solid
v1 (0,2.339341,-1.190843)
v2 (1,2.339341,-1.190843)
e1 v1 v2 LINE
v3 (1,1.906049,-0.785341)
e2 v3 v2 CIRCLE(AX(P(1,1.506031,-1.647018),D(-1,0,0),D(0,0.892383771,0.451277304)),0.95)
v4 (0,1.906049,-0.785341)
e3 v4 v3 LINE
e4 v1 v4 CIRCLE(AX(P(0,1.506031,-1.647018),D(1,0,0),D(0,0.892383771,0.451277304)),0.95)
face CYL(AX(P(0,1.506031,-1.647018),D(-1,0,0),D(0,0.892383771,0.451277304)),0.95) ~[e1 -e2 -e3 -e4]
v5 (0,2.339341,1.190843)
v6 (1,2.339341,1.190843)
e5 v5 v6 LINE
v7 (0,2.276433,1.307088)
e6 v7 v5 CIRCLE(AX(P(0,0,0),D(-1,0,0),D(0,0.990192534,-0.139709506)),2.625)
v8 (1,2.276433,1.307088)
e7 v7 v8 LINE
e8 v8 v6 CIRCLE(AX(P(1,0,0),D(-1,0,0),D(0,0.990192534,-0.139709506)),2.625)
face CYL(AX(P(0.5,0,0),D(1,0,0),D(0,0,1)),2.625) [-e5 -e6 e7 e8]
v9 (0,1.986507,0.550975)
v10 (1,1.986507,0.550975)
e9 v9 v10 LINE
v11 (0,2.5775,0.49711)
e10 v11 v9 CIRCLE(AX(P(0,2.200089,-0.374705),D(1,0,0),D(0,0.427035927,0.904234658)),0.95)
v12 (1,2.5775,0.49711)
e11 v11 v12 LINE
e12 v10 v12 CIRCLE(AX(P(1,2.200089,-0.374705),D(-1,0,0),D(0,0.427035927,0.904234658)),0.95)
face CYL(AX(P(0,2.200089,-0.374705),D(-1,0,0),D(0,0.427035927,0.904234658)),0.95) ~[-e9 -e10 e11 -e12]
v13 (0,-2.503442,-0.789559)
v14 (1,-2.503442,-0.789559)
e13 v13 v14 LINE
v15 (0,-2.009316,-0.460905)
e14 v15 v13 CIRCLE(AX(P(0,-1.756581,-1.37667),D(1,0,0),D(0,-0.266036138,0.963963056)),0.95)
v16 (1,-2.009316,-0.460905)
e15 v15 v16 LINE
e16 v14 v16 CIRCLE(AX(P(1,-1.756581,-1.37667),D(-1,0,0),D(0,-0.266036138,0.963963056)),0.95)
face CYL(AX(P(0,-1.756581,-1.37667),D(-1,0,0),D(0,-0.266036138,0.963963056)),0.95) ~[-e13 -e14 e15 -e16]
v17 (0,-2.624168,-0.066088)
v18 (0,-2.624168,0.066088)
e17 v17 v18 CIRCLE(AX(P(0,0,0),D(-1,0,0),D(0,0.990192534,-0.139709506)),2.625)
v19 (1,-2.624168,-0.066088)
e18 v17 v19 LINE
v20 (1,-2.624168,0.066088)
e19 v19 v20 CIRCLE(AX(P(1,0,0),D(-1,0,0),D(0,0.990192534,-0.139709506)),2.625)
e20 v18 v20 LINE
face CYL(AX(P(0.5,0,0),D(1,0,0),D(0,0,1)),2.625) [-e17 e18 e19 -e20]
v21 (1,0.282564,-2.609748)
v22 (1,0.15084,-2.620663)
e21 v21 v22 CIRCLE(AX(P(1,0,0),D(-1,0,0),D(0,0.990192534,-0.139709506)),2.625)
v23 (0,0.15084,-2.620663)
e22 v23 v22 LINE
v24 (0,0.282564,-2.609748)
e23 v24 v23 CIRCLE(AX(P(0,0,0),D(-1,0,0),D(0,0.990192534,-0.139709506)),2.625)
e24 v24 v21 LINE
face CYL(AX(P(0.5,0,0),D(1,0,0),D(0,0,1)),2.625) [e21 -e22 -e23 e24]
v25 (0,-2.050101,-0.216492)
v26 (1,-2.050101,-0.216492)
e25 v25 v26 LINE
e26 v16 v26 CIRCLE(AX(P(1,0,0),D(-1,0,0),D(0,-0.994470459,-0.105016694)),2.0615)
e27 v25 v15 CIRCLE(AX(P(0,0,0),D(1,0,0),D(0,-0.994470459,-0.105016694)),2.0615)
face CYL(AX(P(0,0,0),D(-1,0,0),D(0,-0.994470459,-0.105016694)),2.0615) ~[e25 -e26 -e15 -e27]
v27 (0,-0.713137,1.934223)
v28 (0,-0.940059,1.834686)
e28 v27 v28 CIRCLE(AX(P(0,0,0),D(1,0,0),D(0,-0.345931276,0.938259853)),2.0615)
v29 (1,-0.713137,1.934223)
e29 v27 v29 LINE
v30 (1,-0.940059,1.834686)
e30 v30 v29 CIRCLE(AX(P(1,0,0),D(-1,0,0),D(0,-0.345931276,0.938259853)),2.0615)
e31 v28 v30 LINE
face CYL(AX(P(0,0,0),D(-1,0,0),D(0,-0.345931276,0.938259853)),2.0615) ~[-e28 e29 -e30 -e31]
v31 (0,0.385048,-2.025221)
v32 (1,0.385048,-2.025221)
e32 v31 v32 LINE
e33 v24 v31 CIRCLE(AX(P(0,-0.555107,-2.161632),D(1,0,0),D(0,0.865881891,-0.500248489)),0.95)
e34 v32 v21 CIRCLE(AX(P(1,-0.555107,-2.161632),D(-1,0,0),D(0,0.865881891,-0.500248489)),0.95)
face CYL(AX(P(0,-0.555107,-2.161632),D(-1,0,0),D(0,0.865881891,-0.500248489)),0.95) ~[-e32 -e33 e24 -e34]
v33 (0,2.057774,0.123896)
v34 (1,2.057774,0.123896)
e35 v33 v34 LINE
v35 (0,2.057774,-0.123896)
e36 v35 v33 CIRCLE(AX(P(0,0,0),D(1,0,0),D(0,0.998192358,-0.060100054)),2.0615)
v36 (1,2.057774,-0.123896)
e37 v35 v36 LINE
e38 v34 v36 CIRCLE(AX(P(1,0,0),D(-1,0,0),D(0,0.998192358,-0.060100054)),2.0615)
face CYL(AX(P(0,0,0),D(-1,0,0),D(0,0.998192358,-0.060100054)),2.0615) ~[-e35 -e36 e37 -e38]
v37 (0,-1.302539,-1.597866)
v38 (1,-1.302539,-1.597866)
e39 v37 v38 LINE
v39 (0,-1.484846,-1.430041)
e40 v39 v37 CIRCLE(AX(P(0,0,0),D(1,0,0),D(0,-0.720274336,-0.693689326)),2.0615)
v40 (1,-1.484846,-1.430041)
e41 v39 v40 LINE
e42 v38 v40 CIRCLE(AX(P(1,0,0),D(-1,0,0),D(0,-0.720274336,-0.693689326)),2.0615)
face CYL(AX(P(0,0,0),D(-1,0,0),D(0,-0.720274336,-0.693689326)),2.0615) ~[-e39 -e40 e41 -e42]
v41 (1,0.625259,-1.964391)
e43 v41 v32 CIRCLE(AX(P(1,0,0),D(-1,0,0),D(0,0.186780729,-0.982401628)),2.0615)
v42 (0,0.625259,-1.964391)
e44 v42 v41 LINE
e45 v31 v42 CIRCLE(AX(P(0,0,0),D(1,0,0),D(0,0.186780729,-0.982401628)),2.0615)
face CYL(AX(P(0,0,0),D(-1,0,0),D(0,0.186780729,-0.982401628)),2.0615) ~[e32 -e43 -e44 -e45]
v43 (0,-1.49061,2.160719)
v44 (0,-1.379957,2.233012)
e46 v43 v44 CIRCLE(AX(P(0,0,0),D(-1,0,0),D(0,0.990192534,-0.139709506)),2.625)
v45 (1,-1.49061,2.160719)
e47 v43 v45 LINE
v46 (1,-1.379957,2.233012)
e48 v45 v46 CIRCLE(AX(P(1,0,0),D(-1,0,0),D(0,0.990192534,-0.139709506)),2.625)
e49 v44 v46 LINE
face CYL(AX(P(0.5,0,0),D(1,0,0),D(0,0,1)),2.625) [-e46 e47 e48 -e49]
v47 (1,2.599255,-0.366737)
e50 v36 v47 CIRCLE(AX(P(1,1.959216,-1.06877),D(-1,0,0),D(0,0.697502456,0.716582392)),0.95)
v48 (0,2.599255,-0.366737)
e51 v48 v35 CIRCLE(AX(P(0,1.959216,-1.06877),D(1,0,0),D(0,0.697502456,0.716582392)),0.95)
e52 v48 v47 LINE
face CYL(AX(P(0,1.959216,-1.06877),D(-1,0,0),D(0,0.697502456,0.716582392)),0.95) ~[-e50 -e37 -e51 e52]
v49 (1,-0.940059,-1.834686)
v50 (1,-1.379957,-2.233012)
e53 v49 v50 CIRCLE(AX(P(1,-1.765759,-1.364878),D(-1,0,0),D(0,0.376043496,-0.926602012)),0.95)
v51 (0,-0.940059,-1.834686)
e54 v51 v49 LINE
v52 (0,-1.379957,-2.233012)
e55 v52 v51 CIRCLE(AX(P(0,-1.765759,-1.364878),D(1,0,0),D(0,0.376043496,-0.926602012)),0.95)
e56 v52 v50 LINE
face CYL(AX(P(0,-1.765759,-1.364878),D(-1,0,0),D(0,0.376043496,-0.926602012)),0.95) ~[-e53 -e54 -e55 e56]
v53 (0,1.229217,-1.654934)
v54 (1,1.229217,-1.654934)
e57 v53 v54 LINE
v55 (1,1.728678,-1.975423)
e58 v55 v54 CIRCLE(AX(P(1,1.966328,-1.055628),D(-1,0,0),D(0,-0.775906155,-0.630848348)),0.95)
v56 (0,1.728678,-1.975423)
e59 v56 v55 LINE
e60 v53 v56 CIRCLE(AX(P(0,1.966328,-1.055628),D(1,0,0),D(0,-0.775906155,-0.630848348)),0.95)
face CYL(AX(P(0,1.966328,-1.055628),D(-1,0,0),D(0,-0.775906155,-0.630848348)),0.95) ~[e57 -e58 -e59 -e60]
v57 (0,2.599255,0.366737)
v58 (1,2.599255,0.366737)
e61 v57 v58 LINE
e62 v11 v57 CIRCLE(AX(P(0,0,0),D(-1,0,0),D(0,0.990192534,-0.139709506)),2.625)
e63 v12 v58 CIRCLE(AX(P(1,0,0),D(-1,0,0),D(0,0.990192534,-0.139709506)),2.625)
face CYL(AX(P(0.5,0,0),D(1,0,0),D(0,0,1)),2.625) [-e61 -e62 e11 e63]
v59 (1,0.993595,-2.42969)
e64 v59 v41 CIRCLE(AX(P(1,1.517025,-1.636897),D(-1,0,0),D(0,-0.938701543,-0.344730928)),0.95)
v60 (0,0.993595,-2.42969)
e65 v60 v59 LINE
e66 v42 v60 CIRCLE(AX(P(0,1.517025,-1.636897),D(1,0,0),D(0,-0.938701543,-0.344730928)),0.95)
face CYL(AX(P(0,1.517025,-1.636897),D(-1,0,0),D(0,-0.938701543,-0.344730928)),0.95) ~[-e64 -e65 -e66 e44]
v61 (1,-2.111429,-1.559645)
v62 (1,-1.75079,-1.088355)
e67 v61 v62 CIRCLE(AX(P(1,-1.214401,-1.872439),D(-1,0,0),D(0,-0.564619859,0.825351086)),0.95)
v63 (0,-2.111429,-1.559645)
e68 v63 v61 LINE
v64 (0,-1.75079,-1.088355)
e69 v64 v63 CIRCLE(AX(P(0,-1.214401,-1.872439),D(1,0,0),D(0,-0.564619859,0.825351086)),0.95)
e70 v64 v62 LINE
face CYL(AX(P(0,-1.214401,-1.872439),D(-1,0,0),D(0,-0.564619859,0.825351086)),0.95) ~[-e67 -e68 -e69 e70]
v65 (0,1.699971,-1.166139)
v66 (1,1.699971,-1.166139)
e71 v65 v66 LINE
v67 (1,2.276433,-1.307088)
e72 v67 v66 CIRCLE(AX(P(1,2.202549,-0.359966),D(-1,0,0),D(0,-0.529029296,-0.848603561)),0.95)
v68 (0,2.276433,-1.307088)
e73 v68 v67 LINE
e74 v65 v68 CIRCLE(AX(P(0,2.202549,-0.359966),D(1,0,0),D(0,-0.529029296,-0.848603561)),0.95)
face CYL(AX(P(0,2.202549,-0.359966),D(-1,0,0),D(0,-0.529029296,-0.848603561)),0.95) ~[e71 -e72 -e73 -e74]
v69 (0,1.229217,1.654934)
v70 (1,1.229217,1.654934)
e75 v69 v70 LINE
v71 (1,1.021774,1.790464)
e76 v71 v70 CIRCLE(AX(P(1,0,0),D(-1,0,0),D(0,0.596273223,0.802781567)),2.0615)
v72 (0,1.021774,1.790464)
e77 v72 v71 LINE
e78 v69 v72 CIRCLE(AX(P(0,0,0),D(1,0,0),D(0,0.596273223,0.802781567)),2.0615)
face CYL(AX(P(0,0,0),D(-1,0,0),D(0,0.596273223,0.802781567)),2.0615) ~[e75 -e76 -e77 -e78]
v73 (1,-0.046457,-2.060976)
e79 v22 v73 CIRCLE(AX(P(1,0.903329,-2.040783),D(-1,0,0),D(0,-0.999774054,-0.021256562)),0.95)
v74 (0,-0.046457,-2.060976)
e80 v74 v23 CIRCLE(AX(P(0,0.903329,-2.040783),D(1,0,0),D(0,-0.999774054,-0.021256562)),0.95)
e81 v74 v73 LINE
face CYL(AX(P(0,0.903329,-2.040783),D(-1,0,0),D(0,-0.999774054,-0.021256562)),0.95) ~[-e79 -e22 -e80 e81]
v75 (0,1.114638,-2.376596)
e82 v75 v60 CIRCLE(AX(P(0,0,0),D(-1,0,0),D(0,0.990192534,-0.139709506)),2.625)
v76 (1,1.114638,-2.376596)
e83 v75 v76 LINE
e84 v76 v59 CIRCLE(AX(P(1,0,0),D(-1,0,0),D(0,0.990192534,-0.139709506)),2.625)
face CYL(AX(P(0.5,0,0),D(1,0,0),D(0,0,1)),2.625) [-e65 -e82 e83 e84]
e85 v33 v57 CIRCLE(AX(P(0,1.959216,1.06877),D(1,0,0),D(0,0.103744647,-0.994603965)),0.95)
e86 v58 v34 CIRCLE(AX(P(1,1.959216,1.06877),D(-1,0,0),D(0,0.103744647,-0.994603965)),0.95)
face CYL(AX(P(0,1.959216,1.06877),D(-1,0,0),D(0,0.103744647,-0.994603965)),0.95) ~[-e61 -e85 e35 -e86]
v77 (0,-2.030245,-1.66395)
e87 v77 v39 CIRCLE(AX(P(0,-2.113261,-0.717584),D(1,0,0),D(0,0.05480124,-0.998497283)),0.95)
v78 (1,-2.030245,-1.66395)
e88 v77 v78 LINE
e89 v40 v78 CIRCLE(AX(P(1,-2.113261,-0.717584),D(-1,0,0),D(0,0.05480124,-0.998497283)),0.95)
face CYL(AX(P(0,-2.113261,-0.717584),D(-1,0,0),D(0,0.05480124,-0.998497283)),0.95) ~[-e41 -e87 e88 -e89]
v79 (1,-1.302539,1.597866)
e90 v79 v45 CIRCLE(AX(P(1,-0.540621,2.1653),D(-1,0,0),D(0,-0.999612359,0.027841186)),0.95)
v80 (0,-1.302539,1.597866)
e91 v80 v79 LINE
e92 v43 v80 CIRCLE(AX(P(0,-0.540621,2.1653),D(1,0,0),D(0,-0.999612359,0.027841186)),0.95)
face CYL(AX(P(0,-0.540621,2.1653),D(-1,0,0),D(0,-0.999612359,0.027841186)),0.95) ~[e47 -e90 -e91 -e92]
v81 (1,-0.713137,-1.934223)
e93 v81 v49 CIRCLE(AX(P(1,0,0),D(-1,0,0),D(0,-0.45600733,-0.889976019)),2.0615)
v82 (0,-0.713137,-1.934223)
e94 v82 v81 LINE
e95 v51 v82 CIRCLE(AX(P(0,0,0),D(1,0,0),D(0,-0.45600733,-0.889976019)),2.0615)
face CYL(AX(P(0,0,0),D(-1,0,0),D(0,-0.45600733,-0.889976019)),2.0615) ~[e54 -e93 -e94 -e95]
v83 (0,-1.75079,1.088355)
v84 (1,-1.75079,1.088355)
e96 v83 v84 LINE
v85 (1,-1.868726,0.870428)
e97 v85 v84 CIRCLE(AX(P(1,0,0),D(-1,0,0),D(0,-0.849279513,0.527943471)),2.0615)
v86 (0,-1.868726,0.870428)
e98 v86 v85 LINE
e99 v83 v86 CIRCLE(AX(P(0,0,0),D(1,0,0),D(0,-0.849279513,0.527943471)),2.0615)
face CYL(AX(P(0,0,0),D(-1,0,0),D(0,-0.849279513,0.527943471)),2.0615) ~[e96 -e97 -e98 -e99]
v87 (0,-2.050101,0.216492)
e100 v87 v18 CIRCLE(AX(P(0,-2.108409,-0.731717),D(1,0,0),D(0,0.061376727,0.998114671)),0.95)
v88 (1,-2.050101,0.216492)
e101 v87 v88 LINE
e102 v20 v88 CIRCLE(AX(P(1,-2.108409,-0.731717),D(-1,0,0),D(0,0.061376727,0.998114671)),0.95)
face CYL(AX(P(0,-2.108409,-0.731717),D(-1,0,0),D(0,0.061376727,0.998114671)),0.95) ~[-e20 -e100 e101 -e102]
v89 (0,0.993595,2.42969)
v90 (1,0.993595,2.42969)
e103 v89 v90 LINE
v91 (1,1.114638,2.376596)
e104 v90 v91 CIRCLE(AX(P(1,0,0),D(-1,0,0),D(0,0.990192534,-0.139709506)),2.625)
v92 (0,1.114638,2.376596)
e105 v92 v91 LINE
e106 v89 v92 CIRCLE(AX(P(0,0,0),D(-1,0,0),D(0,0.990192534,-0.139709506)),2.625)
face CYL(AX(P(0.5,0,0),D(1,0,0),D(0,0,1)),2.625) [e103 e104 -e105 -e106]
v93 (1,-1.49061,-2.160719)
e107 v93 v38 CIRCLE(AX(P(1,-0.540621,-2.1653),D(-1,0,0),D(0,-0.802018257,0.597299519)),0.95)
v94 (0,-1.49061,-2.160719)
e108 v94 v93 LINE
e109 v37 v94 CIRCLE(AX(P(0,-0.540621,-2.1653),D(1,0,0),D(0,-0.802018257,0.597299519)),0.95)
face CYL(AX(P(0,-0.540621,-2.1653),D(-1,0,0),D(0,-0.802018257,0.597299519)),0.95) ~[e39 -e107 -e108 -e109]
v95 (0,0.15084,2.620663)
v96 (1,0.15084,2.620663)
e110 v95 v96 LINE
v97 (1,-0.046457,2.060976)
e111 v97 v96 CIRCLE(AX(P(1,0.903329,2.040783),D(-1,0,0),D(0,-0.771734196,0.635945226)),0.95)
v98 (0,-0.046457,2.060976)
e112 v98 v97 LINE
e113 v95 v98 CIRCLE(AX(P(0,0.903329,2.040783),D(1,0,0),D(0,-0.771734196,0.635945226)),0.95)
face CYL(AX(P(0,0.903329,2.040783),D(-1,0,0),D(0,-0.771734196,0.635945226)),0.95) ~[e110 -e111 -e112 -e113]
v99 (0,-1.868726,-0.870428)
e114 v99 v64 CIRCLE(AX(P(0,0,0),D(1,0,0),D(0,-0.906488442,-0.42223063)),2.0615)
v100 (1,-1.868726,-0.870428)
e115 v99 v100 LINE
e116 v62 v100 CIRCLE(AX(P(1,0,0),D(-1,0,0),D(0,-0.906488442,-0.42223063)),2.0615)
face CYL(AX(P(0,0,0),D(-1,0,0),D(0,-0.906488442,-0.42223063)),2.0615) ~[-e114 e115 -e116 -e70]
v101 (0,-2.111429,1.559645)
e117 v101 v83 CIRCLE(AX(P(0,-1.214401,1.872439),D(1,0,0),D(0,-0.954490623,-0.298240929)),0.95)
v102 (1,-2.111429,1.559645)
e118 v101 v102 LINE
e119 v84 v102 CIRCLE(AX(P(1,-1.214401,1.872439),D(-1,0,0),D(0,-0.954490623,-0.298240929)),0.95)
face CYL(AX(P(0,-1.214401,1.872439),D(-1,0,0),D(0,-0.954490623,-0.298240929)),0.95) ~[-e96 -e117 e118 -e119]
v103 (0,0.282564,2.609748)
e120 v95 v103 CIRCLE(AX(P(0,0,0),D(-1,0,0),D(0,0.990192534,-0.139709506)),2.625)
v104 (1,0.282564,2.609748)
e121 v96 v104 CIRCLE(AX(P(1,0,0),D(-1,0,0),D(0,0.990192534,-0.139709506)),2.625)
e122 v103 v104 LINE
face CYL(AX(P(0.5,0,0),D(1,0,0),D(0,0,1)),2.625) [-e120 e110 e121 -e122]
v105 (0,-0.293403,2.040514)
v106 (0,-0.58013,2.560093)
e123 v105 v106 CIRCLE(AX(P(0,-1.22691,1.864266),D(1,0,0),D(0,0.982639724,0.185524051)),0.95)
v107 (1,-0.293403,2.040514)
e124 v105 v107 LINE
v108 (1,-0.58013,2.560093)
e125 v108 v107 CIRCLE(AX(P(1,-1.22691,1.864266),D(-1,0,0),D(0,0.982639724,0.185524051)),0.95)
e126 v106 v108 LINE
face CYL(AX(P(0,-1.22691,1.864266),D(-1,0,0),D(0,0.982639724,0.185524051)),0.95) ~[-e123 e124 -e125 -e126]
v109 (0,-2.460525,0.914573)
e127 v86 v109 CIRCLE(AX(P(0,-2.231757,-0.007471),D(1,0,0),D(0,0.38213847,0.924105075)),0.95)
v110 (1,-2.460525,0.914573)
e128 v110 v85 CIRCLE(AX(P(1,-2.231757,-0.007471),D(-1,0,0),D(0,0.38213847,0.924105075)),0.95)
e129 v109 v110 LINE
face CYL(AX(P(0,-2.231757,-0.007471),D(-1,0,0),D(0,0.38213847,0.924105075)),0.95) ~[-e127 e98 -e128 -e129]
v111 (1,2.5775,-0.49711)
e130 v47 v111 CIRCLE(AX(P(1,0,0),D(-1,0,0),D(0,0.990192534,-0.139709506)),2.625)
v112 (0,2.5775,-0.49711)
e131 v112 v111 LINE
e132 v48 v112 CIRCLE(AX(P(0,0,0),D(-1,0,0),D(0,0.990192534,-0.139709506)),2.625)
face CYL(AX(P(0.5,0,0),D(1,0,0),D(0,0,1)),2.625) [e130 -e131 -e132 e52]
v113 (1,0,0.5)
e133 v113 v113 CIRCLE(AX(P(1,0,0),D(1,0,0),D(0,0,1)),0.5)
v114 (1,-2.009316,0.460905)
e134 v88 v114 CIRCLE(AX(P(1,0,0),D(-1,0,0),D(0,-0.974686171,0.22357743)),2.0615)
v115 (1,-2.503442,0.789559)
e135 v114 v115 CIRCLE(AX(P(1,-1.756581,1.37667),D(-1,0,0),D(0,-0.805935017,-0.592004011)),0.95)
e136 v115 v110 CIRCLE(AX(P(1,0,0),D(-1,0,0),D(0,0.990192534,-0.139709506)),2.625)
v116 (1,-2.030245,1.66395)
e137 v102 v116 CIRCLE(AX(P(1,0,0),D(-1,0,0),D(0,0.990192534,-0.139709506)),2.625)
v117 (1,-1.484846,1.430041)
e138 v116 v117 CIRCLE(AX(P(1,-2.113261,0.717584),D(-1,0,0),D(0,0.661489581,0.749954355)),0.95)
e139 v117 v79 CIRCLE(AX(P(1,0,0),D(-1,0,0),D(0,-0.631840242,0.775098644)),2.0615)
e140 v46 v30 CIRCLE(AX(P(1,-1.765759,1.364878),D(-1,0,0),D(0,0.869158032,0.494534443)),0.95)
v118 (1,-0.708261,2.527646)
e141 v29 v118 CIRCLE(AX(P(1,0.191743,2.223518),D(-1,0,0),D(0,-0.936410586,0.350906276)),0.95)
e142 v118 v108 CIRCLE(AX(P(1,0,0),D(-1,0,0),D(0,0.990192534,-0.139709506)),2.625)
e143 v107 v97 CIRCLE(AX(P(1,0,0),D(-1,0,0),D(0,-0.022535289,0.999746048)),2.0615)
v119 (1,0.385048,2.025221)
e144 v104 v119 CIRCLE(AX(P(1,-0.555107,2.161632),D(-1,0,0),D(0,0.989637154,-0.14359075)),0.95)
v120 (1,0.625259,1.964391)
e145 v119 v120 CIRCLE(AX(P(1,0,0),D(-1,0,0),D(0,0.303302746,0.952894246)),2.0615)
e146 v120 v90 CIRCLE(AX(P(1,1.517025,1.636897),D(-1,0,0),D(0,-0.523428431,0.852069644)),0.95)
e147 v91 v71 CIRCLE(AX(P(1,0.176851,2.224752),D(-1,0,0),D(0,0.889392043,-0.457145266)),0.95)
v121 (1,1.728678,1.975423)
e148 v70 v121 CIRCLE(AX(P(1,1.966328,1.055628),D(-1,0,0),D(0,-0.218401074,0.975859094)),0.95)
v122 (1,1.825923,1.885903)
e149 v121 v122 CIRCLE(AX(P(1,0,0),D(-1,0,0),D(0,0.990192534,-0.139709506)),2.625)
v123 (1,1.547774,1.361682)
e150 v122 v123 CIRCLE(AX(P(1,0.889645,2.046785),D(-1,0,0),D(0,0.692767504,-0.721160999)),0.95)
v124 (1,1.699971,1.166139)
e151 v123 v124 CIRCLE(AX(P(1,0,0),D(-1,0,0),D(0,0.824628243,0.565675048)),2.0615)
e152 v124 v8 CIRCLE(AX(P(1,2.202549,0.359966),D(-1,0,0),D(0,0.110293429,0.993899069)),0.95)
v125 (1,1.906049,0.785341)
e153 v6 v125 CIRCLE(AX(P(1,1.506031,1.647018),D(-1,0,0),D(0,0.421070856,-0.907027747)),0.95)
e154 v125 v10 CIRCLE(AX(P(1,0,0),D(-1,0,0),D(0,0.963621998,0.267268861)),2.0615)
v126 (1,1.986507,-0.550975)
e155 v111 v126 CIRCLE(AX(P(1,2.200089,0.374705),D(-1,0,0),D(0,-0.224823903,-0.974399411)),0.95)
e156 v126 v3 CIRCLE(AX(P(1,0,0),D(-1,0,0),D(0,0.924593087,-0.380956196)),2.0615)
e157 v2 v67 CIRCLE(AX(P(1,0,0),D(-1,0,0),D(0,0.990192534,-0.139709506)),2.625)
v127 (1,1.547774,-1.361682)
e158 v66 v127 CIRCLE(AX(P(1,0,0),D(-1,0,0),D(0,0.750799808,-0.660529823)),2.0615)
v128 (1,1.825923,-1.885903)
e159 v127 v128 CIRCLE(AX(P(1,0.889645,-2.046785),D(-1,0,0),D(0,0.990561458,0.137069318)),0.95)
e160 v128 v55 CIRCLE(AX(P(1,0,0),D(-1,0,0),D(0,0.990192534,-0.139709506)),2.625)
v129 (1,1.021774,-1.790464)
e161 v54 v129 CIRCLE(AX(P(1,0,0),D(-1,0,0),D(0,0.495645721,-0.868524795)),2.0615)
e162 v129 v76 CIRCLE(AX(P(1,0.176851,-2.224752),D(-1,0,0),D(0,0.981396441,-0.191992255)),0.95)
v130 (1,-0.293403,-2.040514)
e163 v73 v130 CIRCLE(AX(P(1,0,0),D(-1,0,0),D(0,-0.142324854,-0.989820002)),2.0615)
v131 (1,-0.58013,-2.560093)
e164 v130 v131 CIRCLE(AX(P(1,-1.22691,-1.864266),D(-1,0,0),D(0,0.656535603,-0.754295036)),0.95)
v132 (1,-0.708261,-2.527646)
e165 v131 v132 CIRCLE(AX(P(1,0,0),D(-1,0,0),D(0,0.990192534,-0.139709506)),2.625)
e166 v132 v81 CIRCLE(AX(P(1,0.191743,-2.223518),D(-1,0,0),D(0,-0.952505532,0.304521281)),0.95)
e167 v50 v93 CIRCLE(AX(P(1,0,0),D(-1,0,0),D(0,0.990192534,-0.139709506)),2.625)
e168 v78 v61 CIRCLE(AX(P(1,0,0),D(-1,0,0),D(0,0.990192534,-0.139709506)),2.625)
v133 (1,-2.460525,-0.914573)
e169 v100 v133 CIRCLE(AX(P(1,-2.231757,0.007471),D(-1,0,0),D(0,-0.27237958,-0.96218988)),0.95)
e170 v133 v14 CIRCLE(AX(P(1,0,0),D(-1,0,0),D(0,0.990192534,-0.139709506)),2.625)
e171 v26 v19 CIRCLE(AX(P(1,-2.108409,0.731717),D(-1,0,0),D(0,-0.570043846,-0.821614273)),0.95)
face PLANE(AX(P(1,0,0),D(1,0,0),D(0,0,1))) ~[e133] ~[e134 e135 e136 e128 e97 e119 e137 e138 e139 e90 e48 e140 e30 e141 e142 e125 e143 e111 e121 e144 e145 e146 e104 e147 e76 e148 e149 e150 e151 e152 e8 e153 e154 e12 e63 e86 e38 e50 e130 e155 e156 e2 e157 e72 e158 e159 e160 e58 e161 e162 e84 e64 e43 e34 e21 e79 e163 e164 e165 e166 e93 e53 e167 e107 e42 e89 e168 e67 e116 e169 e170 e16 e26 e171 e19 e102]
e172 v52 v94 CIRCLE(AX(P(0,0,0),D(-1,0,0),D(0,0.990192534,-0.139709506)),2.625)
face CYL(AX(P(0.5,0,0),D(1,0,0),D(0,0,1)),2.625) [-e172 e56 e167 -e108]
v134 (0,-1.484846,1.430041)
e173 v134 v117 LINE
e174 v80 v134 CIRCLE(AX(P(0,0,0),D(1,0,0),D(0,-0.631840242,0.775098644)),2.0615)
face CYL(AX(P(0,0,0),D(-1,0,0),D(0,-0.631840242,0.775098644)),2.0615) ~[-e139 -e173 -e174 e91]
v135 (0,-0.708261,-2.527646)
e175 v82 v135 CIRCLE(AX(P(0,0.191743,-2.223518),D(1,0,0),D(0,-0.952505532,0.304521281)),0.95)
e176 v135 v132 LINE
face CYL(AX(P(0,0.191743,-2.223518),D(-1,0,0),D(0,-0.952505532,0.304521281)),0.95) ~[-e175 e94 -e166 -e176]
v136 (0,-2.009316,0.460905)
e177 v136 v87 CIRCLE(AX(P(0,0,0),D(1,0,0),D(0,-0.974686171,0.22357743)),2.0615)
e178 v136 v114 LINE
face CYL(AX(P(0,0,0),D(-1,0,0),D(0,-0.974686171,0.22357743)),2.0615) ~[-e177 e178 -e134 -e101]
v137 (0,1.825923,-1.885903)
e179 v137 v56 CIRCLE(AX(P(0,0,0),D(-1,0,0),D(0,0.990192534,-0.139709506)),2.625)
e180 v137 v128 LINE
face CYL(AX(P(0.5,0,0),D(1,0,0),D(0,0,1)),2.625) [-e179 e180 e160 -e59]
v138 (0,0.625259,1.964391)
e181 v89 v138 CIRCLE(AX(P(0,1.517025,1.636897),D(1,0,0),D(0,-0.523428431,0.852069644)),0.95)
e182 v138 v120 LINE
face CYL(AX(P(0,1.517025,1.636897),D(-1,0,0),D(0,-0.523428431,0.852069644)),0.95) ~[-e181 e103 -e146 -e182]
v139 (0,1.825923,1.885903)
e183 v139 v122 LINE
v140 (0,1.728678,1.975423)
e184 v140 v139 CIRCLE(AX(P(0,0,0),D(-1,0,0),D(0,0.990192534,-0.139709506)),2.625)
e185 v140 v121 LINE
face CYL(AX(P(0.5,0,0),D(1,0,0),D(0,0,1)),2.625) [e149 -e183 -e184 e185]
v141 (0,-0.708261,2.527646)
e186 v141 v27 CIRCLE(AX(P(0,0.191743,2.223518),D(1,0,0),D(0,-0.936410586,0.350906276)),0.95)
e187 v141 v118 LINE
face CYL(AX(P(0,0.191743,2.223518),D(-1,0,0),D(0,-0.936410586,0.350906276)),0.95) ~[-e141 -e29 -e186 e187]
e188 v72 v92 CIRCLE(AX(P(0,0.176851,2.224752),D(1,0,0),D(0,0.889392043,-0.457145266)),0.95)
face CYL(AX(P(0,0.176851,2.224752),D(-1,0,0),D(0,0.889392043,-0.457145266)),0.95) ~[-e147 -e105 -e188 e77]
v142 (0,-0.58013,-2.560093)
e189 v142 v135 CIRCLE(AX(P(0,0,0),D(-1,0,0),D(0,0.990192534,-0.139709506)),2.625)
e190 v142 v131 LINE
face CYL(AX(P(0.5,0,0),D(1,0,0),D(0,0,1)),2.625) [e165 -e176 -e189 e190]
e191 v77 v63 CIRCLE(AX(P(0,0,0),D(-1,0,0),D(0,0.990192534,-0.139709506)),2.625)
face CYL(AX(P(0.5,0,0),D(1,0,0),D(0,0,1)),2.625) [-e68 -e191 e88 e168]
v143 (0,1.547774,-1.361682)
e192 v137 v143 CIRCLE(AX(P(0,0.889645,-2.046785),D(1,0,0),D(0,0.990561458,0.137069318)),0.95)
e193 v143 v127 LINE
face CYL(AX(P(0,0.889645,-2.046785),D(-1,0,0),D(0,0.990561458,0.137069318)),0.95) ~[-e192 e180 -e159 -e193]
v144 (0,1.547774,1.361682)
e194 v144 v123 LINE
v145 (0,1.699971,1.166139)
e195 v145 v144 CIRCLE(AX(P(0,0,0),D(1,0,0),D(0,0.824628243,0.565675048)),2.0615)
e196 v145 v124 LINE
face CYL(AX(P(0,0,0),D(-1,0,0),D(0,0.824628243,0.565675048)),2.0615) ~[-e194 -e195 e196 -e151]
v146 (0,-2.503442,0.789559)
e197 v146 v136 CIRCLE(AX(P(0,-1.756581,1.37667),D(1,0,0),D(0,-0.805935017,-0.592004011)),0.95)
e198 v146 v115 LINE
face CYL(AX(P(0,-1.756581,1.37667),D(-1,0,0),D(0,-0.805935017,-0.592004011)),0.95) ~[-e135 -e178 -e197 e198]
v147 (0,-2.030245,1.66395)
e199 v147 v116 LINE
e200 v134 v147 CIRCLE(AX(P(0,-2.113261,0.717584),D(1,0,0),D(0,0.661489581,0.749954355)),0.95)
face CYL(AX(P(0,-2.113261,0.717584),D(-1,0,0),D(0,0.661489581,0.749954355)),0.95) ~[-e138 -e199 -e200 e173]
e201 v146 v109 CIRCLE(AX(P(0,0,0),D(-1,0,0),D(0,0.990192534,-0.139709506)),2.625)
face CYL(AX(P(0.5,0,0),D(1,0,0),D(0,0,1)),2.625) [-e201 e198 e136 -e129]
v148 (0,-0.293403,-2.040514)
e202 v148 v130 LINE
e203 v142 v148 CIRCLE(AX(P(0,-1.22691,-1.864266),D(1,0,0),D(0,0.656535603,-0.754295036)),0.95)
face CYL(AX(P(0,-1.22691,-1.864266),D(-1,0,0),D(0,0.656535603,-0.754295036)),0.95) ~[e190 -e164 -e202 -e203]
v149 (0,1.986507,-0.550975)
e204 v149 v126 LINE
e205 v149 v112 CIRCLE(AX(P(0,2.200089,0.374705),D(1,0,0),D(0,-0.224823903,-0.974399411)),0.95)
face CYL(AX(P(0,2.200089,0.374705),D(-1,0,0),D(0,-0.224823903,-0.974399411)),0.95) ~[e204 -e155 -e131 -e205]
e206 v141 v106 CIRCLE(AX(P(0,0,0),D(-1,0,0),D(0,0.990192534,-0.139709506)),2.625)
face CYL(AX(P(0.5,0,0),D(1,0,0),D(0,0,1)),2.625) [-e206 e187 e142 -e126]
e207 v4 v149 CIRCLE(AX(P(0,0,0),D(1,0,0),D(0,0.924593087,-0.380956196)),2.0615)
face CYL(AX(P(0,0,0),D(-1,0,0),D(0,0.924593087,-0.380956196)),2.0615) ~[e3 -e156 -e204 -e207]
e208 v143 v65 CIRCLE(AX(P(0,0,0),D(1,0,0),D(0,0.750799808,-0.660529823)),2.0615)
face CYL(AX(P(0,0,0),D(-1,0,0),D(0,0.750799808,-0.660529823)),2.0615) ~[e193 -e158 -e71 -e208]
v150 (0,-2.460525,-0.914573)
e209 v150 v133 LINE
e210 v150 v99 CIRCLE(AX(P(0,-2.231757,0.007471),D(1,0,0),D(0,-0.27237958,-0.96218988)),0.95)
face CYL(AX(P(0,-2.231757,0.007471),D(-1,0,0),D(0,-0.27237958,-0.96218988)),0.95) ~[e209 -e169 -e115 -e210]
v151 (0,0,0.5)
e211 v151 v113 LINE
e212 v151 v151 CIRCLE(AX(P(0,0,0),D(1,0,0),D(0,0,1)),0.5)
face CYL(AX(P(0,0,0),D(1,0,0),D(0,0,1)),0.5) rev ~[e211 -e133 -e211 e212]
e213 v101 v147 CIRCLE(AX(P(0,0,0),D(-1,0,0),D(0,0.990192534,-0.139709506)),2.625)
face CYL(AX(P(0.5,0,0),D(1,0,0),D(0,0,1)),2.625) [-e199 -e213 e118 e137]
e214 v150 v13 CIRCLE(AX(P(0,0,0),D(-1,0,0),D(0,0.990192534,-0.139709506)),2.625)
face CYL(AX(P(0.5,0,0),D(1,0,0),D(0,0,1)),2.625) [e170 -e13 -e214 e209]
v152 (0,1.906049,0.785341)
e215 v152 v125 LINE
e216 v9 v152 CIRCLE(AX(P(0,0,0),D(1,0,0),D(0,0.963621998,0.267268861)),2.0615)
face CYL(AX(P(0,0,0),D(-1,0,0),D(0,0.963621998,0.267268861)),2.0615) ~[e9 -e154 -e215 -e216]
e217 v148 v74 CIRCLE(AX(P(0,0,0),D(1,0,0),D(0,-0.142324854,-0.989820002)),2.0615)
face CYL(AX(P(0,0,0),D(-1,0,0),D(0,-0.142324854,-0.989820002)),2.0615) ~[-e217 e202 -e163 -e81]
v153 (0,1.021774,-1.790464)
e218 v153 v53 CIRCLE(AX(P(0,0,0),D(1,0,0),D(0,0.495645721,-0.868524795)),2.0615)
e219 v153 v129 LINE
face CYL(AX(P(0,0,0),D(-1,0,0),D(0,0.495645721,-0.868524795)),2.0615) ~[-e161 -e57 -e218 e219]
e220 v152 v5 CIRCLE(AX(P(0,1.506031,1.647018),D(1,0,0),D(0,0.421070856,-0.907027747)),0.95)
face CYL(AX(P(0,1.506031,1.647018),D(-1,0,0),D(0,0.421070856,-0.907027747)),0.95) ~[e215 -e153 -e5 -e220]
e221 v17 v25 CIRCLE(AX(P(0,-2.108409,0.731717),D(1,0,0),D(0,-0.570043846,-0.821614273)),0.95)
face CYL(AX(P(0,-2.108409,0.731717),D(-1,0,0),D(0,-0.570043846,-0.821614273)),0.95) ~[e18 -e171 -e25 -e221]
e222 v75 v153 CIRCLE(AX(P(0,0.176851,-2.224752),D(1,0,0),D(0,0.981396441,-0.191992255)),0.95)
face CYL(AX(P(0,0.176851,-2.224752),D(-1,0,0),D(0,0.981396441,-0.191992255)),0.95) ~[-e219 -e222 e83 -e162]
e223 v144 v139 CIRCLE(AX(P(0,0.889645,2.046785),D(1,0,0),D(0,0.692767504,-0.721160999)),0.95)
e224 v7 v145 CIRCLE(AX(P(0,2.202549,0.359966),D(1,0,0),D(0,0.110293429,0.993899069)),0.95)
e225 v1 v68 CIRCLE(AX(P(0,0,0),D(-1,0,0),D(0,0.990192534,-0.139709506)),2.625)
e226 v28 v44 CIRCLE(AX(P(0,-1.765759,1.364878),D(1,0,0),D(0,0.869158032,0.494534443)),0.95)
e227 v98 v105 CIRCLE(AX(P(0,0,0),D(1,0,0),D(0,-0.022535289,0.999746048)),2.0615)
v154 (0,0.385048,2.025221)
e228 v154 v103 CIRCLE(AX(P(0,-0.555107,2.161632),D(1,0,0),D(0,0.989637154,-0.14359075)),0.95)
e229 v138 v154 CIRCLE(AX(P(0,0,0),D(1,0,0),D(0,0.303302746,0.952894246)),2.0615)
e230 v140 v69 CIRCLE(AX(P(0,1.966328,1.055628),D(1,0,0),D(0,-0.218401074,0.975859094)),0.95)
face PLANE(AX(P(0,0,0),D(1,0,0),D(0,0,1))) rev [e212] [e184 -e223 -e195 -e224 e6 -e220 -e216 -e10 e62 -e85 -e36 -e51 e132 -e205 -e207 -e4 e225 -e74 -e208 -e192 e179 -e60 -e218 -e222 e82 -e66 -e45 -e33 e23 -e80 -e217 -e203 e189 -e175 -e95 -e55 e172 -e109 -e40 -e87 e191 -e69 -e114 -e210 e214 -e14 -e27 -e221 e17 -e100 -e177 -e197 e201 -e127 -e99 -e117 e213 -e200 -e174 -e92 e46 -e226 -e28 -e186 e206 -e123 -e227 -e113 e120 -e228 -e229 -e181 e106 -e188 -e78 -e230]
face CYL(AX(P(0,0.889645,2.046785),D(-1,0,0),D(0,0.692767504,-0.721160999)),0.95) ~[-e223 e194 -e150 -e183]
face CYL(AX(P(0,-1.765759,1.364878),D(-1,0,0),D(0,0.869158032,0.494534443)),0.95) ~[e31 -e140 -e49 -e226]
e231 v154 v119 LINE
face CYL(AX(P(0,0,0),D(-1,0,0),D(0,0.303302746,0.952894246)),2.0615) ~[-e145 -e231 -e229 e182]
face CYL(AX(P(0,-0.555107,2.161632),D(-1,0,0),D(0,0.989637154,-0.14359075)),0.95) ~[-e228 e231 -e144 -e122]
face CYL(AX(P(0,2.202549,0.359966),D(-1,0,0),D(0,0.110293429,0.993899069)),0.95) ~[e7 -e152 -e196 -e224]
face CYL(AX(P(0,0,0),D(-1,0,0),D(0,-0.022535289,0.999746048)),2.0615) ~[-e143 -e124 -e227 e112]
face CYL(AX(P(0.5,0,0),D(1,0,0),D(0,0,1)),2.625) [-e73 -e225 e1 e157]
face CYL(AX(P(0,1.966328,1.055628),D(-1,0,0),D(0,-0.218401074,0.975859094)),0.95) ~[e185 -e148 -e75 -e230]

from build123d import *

# Parameters (mm, degrees)
BASPROSKE_W     = 1
BASPROSKE_H     = 2.625
TOOTHCUT_DEPTH  = 4.844639125
TEETHCUTS_COUNT = 19
TEETHCUTS_ANGLE = 341.052631579
BORSKE_R        = 0.5
BORE_DEPTH      = 50.0000508


with BuildPart() as part:
    # BasProSke → Base-Revolve (revolve)
    with BuildSketch(Plane(origin=(0, 0, 0), x_dir=(1, 0, 0), z_dir=(0, 1, 0)), mode=Mode.PRIVATE) as base_revolve_sk:
        with Locations((0.5, 1.3125)):
            Rectangle(BASPROSKE_W, BASPROSKE_H)
    revolve(base_revolve_sk.sketch.rotate(Axis((-10, 0, 0), (1, 0, 0)), 180), axis=Axis((-10, 0, 0), (1, 0, 0)))

    # TooCutSke → ToothCut (cut, through all)
    with BuildSketch(Plane(origin=(0, 0, 0), x_dir=(0, 0, -1), z_dir=(1, 0, 0))):
        with BuildLine():
            ThreePointArc((0.123896259, 2.057773546), (0, 2.0615), (-0.123896259, 2.057773546))
            ThreePointArc((-0.123896259, 2.057773546), (-0.208415718, 2.362069038), (-0.388016755, 2.621843466))
            ThreePointArc((-0.388016755, 2.621843466), (0, 2.6504), (0.388016755, 2.621843466))
            ThreePointArc((0.388016755, 2.621843466), (0.208415718, 2.362069038), (0.123896259, 2.057773546))
        make_face()
    toothcut = extrude(amount=TOOTHCUT_DEPTH, mode=Mode.SUBTRACT)

    # TeethCuts: ToothCut ×19 about axis
    teethcuts_axis = Axis((-10, 0, 0), (1, 0, 0))
    for i in range(1, TEETHCUTS_COUNT):
        add(toothcut.rotate(teethcuts_axis, i * TEETHCUTS_ANGLE / (TEETHCUTS_COUNT - 1)), mode=Mode.SUBTRACT)

    # BorSke → Bore (cut, symmetric)
    with BuildSketch(Plane(origin=(0, 0, 0), x_dir=(0, 0, -1), z_dir=(1, 0, 0))):
        with Locations(Location((0, 0, 0), (0, 0, 180))):
            Circle(BORSKE_R)
    extrude(amount=BORE_DEPTH, both=True, mode=Mode.SUBTRACT)


solid = part.part
